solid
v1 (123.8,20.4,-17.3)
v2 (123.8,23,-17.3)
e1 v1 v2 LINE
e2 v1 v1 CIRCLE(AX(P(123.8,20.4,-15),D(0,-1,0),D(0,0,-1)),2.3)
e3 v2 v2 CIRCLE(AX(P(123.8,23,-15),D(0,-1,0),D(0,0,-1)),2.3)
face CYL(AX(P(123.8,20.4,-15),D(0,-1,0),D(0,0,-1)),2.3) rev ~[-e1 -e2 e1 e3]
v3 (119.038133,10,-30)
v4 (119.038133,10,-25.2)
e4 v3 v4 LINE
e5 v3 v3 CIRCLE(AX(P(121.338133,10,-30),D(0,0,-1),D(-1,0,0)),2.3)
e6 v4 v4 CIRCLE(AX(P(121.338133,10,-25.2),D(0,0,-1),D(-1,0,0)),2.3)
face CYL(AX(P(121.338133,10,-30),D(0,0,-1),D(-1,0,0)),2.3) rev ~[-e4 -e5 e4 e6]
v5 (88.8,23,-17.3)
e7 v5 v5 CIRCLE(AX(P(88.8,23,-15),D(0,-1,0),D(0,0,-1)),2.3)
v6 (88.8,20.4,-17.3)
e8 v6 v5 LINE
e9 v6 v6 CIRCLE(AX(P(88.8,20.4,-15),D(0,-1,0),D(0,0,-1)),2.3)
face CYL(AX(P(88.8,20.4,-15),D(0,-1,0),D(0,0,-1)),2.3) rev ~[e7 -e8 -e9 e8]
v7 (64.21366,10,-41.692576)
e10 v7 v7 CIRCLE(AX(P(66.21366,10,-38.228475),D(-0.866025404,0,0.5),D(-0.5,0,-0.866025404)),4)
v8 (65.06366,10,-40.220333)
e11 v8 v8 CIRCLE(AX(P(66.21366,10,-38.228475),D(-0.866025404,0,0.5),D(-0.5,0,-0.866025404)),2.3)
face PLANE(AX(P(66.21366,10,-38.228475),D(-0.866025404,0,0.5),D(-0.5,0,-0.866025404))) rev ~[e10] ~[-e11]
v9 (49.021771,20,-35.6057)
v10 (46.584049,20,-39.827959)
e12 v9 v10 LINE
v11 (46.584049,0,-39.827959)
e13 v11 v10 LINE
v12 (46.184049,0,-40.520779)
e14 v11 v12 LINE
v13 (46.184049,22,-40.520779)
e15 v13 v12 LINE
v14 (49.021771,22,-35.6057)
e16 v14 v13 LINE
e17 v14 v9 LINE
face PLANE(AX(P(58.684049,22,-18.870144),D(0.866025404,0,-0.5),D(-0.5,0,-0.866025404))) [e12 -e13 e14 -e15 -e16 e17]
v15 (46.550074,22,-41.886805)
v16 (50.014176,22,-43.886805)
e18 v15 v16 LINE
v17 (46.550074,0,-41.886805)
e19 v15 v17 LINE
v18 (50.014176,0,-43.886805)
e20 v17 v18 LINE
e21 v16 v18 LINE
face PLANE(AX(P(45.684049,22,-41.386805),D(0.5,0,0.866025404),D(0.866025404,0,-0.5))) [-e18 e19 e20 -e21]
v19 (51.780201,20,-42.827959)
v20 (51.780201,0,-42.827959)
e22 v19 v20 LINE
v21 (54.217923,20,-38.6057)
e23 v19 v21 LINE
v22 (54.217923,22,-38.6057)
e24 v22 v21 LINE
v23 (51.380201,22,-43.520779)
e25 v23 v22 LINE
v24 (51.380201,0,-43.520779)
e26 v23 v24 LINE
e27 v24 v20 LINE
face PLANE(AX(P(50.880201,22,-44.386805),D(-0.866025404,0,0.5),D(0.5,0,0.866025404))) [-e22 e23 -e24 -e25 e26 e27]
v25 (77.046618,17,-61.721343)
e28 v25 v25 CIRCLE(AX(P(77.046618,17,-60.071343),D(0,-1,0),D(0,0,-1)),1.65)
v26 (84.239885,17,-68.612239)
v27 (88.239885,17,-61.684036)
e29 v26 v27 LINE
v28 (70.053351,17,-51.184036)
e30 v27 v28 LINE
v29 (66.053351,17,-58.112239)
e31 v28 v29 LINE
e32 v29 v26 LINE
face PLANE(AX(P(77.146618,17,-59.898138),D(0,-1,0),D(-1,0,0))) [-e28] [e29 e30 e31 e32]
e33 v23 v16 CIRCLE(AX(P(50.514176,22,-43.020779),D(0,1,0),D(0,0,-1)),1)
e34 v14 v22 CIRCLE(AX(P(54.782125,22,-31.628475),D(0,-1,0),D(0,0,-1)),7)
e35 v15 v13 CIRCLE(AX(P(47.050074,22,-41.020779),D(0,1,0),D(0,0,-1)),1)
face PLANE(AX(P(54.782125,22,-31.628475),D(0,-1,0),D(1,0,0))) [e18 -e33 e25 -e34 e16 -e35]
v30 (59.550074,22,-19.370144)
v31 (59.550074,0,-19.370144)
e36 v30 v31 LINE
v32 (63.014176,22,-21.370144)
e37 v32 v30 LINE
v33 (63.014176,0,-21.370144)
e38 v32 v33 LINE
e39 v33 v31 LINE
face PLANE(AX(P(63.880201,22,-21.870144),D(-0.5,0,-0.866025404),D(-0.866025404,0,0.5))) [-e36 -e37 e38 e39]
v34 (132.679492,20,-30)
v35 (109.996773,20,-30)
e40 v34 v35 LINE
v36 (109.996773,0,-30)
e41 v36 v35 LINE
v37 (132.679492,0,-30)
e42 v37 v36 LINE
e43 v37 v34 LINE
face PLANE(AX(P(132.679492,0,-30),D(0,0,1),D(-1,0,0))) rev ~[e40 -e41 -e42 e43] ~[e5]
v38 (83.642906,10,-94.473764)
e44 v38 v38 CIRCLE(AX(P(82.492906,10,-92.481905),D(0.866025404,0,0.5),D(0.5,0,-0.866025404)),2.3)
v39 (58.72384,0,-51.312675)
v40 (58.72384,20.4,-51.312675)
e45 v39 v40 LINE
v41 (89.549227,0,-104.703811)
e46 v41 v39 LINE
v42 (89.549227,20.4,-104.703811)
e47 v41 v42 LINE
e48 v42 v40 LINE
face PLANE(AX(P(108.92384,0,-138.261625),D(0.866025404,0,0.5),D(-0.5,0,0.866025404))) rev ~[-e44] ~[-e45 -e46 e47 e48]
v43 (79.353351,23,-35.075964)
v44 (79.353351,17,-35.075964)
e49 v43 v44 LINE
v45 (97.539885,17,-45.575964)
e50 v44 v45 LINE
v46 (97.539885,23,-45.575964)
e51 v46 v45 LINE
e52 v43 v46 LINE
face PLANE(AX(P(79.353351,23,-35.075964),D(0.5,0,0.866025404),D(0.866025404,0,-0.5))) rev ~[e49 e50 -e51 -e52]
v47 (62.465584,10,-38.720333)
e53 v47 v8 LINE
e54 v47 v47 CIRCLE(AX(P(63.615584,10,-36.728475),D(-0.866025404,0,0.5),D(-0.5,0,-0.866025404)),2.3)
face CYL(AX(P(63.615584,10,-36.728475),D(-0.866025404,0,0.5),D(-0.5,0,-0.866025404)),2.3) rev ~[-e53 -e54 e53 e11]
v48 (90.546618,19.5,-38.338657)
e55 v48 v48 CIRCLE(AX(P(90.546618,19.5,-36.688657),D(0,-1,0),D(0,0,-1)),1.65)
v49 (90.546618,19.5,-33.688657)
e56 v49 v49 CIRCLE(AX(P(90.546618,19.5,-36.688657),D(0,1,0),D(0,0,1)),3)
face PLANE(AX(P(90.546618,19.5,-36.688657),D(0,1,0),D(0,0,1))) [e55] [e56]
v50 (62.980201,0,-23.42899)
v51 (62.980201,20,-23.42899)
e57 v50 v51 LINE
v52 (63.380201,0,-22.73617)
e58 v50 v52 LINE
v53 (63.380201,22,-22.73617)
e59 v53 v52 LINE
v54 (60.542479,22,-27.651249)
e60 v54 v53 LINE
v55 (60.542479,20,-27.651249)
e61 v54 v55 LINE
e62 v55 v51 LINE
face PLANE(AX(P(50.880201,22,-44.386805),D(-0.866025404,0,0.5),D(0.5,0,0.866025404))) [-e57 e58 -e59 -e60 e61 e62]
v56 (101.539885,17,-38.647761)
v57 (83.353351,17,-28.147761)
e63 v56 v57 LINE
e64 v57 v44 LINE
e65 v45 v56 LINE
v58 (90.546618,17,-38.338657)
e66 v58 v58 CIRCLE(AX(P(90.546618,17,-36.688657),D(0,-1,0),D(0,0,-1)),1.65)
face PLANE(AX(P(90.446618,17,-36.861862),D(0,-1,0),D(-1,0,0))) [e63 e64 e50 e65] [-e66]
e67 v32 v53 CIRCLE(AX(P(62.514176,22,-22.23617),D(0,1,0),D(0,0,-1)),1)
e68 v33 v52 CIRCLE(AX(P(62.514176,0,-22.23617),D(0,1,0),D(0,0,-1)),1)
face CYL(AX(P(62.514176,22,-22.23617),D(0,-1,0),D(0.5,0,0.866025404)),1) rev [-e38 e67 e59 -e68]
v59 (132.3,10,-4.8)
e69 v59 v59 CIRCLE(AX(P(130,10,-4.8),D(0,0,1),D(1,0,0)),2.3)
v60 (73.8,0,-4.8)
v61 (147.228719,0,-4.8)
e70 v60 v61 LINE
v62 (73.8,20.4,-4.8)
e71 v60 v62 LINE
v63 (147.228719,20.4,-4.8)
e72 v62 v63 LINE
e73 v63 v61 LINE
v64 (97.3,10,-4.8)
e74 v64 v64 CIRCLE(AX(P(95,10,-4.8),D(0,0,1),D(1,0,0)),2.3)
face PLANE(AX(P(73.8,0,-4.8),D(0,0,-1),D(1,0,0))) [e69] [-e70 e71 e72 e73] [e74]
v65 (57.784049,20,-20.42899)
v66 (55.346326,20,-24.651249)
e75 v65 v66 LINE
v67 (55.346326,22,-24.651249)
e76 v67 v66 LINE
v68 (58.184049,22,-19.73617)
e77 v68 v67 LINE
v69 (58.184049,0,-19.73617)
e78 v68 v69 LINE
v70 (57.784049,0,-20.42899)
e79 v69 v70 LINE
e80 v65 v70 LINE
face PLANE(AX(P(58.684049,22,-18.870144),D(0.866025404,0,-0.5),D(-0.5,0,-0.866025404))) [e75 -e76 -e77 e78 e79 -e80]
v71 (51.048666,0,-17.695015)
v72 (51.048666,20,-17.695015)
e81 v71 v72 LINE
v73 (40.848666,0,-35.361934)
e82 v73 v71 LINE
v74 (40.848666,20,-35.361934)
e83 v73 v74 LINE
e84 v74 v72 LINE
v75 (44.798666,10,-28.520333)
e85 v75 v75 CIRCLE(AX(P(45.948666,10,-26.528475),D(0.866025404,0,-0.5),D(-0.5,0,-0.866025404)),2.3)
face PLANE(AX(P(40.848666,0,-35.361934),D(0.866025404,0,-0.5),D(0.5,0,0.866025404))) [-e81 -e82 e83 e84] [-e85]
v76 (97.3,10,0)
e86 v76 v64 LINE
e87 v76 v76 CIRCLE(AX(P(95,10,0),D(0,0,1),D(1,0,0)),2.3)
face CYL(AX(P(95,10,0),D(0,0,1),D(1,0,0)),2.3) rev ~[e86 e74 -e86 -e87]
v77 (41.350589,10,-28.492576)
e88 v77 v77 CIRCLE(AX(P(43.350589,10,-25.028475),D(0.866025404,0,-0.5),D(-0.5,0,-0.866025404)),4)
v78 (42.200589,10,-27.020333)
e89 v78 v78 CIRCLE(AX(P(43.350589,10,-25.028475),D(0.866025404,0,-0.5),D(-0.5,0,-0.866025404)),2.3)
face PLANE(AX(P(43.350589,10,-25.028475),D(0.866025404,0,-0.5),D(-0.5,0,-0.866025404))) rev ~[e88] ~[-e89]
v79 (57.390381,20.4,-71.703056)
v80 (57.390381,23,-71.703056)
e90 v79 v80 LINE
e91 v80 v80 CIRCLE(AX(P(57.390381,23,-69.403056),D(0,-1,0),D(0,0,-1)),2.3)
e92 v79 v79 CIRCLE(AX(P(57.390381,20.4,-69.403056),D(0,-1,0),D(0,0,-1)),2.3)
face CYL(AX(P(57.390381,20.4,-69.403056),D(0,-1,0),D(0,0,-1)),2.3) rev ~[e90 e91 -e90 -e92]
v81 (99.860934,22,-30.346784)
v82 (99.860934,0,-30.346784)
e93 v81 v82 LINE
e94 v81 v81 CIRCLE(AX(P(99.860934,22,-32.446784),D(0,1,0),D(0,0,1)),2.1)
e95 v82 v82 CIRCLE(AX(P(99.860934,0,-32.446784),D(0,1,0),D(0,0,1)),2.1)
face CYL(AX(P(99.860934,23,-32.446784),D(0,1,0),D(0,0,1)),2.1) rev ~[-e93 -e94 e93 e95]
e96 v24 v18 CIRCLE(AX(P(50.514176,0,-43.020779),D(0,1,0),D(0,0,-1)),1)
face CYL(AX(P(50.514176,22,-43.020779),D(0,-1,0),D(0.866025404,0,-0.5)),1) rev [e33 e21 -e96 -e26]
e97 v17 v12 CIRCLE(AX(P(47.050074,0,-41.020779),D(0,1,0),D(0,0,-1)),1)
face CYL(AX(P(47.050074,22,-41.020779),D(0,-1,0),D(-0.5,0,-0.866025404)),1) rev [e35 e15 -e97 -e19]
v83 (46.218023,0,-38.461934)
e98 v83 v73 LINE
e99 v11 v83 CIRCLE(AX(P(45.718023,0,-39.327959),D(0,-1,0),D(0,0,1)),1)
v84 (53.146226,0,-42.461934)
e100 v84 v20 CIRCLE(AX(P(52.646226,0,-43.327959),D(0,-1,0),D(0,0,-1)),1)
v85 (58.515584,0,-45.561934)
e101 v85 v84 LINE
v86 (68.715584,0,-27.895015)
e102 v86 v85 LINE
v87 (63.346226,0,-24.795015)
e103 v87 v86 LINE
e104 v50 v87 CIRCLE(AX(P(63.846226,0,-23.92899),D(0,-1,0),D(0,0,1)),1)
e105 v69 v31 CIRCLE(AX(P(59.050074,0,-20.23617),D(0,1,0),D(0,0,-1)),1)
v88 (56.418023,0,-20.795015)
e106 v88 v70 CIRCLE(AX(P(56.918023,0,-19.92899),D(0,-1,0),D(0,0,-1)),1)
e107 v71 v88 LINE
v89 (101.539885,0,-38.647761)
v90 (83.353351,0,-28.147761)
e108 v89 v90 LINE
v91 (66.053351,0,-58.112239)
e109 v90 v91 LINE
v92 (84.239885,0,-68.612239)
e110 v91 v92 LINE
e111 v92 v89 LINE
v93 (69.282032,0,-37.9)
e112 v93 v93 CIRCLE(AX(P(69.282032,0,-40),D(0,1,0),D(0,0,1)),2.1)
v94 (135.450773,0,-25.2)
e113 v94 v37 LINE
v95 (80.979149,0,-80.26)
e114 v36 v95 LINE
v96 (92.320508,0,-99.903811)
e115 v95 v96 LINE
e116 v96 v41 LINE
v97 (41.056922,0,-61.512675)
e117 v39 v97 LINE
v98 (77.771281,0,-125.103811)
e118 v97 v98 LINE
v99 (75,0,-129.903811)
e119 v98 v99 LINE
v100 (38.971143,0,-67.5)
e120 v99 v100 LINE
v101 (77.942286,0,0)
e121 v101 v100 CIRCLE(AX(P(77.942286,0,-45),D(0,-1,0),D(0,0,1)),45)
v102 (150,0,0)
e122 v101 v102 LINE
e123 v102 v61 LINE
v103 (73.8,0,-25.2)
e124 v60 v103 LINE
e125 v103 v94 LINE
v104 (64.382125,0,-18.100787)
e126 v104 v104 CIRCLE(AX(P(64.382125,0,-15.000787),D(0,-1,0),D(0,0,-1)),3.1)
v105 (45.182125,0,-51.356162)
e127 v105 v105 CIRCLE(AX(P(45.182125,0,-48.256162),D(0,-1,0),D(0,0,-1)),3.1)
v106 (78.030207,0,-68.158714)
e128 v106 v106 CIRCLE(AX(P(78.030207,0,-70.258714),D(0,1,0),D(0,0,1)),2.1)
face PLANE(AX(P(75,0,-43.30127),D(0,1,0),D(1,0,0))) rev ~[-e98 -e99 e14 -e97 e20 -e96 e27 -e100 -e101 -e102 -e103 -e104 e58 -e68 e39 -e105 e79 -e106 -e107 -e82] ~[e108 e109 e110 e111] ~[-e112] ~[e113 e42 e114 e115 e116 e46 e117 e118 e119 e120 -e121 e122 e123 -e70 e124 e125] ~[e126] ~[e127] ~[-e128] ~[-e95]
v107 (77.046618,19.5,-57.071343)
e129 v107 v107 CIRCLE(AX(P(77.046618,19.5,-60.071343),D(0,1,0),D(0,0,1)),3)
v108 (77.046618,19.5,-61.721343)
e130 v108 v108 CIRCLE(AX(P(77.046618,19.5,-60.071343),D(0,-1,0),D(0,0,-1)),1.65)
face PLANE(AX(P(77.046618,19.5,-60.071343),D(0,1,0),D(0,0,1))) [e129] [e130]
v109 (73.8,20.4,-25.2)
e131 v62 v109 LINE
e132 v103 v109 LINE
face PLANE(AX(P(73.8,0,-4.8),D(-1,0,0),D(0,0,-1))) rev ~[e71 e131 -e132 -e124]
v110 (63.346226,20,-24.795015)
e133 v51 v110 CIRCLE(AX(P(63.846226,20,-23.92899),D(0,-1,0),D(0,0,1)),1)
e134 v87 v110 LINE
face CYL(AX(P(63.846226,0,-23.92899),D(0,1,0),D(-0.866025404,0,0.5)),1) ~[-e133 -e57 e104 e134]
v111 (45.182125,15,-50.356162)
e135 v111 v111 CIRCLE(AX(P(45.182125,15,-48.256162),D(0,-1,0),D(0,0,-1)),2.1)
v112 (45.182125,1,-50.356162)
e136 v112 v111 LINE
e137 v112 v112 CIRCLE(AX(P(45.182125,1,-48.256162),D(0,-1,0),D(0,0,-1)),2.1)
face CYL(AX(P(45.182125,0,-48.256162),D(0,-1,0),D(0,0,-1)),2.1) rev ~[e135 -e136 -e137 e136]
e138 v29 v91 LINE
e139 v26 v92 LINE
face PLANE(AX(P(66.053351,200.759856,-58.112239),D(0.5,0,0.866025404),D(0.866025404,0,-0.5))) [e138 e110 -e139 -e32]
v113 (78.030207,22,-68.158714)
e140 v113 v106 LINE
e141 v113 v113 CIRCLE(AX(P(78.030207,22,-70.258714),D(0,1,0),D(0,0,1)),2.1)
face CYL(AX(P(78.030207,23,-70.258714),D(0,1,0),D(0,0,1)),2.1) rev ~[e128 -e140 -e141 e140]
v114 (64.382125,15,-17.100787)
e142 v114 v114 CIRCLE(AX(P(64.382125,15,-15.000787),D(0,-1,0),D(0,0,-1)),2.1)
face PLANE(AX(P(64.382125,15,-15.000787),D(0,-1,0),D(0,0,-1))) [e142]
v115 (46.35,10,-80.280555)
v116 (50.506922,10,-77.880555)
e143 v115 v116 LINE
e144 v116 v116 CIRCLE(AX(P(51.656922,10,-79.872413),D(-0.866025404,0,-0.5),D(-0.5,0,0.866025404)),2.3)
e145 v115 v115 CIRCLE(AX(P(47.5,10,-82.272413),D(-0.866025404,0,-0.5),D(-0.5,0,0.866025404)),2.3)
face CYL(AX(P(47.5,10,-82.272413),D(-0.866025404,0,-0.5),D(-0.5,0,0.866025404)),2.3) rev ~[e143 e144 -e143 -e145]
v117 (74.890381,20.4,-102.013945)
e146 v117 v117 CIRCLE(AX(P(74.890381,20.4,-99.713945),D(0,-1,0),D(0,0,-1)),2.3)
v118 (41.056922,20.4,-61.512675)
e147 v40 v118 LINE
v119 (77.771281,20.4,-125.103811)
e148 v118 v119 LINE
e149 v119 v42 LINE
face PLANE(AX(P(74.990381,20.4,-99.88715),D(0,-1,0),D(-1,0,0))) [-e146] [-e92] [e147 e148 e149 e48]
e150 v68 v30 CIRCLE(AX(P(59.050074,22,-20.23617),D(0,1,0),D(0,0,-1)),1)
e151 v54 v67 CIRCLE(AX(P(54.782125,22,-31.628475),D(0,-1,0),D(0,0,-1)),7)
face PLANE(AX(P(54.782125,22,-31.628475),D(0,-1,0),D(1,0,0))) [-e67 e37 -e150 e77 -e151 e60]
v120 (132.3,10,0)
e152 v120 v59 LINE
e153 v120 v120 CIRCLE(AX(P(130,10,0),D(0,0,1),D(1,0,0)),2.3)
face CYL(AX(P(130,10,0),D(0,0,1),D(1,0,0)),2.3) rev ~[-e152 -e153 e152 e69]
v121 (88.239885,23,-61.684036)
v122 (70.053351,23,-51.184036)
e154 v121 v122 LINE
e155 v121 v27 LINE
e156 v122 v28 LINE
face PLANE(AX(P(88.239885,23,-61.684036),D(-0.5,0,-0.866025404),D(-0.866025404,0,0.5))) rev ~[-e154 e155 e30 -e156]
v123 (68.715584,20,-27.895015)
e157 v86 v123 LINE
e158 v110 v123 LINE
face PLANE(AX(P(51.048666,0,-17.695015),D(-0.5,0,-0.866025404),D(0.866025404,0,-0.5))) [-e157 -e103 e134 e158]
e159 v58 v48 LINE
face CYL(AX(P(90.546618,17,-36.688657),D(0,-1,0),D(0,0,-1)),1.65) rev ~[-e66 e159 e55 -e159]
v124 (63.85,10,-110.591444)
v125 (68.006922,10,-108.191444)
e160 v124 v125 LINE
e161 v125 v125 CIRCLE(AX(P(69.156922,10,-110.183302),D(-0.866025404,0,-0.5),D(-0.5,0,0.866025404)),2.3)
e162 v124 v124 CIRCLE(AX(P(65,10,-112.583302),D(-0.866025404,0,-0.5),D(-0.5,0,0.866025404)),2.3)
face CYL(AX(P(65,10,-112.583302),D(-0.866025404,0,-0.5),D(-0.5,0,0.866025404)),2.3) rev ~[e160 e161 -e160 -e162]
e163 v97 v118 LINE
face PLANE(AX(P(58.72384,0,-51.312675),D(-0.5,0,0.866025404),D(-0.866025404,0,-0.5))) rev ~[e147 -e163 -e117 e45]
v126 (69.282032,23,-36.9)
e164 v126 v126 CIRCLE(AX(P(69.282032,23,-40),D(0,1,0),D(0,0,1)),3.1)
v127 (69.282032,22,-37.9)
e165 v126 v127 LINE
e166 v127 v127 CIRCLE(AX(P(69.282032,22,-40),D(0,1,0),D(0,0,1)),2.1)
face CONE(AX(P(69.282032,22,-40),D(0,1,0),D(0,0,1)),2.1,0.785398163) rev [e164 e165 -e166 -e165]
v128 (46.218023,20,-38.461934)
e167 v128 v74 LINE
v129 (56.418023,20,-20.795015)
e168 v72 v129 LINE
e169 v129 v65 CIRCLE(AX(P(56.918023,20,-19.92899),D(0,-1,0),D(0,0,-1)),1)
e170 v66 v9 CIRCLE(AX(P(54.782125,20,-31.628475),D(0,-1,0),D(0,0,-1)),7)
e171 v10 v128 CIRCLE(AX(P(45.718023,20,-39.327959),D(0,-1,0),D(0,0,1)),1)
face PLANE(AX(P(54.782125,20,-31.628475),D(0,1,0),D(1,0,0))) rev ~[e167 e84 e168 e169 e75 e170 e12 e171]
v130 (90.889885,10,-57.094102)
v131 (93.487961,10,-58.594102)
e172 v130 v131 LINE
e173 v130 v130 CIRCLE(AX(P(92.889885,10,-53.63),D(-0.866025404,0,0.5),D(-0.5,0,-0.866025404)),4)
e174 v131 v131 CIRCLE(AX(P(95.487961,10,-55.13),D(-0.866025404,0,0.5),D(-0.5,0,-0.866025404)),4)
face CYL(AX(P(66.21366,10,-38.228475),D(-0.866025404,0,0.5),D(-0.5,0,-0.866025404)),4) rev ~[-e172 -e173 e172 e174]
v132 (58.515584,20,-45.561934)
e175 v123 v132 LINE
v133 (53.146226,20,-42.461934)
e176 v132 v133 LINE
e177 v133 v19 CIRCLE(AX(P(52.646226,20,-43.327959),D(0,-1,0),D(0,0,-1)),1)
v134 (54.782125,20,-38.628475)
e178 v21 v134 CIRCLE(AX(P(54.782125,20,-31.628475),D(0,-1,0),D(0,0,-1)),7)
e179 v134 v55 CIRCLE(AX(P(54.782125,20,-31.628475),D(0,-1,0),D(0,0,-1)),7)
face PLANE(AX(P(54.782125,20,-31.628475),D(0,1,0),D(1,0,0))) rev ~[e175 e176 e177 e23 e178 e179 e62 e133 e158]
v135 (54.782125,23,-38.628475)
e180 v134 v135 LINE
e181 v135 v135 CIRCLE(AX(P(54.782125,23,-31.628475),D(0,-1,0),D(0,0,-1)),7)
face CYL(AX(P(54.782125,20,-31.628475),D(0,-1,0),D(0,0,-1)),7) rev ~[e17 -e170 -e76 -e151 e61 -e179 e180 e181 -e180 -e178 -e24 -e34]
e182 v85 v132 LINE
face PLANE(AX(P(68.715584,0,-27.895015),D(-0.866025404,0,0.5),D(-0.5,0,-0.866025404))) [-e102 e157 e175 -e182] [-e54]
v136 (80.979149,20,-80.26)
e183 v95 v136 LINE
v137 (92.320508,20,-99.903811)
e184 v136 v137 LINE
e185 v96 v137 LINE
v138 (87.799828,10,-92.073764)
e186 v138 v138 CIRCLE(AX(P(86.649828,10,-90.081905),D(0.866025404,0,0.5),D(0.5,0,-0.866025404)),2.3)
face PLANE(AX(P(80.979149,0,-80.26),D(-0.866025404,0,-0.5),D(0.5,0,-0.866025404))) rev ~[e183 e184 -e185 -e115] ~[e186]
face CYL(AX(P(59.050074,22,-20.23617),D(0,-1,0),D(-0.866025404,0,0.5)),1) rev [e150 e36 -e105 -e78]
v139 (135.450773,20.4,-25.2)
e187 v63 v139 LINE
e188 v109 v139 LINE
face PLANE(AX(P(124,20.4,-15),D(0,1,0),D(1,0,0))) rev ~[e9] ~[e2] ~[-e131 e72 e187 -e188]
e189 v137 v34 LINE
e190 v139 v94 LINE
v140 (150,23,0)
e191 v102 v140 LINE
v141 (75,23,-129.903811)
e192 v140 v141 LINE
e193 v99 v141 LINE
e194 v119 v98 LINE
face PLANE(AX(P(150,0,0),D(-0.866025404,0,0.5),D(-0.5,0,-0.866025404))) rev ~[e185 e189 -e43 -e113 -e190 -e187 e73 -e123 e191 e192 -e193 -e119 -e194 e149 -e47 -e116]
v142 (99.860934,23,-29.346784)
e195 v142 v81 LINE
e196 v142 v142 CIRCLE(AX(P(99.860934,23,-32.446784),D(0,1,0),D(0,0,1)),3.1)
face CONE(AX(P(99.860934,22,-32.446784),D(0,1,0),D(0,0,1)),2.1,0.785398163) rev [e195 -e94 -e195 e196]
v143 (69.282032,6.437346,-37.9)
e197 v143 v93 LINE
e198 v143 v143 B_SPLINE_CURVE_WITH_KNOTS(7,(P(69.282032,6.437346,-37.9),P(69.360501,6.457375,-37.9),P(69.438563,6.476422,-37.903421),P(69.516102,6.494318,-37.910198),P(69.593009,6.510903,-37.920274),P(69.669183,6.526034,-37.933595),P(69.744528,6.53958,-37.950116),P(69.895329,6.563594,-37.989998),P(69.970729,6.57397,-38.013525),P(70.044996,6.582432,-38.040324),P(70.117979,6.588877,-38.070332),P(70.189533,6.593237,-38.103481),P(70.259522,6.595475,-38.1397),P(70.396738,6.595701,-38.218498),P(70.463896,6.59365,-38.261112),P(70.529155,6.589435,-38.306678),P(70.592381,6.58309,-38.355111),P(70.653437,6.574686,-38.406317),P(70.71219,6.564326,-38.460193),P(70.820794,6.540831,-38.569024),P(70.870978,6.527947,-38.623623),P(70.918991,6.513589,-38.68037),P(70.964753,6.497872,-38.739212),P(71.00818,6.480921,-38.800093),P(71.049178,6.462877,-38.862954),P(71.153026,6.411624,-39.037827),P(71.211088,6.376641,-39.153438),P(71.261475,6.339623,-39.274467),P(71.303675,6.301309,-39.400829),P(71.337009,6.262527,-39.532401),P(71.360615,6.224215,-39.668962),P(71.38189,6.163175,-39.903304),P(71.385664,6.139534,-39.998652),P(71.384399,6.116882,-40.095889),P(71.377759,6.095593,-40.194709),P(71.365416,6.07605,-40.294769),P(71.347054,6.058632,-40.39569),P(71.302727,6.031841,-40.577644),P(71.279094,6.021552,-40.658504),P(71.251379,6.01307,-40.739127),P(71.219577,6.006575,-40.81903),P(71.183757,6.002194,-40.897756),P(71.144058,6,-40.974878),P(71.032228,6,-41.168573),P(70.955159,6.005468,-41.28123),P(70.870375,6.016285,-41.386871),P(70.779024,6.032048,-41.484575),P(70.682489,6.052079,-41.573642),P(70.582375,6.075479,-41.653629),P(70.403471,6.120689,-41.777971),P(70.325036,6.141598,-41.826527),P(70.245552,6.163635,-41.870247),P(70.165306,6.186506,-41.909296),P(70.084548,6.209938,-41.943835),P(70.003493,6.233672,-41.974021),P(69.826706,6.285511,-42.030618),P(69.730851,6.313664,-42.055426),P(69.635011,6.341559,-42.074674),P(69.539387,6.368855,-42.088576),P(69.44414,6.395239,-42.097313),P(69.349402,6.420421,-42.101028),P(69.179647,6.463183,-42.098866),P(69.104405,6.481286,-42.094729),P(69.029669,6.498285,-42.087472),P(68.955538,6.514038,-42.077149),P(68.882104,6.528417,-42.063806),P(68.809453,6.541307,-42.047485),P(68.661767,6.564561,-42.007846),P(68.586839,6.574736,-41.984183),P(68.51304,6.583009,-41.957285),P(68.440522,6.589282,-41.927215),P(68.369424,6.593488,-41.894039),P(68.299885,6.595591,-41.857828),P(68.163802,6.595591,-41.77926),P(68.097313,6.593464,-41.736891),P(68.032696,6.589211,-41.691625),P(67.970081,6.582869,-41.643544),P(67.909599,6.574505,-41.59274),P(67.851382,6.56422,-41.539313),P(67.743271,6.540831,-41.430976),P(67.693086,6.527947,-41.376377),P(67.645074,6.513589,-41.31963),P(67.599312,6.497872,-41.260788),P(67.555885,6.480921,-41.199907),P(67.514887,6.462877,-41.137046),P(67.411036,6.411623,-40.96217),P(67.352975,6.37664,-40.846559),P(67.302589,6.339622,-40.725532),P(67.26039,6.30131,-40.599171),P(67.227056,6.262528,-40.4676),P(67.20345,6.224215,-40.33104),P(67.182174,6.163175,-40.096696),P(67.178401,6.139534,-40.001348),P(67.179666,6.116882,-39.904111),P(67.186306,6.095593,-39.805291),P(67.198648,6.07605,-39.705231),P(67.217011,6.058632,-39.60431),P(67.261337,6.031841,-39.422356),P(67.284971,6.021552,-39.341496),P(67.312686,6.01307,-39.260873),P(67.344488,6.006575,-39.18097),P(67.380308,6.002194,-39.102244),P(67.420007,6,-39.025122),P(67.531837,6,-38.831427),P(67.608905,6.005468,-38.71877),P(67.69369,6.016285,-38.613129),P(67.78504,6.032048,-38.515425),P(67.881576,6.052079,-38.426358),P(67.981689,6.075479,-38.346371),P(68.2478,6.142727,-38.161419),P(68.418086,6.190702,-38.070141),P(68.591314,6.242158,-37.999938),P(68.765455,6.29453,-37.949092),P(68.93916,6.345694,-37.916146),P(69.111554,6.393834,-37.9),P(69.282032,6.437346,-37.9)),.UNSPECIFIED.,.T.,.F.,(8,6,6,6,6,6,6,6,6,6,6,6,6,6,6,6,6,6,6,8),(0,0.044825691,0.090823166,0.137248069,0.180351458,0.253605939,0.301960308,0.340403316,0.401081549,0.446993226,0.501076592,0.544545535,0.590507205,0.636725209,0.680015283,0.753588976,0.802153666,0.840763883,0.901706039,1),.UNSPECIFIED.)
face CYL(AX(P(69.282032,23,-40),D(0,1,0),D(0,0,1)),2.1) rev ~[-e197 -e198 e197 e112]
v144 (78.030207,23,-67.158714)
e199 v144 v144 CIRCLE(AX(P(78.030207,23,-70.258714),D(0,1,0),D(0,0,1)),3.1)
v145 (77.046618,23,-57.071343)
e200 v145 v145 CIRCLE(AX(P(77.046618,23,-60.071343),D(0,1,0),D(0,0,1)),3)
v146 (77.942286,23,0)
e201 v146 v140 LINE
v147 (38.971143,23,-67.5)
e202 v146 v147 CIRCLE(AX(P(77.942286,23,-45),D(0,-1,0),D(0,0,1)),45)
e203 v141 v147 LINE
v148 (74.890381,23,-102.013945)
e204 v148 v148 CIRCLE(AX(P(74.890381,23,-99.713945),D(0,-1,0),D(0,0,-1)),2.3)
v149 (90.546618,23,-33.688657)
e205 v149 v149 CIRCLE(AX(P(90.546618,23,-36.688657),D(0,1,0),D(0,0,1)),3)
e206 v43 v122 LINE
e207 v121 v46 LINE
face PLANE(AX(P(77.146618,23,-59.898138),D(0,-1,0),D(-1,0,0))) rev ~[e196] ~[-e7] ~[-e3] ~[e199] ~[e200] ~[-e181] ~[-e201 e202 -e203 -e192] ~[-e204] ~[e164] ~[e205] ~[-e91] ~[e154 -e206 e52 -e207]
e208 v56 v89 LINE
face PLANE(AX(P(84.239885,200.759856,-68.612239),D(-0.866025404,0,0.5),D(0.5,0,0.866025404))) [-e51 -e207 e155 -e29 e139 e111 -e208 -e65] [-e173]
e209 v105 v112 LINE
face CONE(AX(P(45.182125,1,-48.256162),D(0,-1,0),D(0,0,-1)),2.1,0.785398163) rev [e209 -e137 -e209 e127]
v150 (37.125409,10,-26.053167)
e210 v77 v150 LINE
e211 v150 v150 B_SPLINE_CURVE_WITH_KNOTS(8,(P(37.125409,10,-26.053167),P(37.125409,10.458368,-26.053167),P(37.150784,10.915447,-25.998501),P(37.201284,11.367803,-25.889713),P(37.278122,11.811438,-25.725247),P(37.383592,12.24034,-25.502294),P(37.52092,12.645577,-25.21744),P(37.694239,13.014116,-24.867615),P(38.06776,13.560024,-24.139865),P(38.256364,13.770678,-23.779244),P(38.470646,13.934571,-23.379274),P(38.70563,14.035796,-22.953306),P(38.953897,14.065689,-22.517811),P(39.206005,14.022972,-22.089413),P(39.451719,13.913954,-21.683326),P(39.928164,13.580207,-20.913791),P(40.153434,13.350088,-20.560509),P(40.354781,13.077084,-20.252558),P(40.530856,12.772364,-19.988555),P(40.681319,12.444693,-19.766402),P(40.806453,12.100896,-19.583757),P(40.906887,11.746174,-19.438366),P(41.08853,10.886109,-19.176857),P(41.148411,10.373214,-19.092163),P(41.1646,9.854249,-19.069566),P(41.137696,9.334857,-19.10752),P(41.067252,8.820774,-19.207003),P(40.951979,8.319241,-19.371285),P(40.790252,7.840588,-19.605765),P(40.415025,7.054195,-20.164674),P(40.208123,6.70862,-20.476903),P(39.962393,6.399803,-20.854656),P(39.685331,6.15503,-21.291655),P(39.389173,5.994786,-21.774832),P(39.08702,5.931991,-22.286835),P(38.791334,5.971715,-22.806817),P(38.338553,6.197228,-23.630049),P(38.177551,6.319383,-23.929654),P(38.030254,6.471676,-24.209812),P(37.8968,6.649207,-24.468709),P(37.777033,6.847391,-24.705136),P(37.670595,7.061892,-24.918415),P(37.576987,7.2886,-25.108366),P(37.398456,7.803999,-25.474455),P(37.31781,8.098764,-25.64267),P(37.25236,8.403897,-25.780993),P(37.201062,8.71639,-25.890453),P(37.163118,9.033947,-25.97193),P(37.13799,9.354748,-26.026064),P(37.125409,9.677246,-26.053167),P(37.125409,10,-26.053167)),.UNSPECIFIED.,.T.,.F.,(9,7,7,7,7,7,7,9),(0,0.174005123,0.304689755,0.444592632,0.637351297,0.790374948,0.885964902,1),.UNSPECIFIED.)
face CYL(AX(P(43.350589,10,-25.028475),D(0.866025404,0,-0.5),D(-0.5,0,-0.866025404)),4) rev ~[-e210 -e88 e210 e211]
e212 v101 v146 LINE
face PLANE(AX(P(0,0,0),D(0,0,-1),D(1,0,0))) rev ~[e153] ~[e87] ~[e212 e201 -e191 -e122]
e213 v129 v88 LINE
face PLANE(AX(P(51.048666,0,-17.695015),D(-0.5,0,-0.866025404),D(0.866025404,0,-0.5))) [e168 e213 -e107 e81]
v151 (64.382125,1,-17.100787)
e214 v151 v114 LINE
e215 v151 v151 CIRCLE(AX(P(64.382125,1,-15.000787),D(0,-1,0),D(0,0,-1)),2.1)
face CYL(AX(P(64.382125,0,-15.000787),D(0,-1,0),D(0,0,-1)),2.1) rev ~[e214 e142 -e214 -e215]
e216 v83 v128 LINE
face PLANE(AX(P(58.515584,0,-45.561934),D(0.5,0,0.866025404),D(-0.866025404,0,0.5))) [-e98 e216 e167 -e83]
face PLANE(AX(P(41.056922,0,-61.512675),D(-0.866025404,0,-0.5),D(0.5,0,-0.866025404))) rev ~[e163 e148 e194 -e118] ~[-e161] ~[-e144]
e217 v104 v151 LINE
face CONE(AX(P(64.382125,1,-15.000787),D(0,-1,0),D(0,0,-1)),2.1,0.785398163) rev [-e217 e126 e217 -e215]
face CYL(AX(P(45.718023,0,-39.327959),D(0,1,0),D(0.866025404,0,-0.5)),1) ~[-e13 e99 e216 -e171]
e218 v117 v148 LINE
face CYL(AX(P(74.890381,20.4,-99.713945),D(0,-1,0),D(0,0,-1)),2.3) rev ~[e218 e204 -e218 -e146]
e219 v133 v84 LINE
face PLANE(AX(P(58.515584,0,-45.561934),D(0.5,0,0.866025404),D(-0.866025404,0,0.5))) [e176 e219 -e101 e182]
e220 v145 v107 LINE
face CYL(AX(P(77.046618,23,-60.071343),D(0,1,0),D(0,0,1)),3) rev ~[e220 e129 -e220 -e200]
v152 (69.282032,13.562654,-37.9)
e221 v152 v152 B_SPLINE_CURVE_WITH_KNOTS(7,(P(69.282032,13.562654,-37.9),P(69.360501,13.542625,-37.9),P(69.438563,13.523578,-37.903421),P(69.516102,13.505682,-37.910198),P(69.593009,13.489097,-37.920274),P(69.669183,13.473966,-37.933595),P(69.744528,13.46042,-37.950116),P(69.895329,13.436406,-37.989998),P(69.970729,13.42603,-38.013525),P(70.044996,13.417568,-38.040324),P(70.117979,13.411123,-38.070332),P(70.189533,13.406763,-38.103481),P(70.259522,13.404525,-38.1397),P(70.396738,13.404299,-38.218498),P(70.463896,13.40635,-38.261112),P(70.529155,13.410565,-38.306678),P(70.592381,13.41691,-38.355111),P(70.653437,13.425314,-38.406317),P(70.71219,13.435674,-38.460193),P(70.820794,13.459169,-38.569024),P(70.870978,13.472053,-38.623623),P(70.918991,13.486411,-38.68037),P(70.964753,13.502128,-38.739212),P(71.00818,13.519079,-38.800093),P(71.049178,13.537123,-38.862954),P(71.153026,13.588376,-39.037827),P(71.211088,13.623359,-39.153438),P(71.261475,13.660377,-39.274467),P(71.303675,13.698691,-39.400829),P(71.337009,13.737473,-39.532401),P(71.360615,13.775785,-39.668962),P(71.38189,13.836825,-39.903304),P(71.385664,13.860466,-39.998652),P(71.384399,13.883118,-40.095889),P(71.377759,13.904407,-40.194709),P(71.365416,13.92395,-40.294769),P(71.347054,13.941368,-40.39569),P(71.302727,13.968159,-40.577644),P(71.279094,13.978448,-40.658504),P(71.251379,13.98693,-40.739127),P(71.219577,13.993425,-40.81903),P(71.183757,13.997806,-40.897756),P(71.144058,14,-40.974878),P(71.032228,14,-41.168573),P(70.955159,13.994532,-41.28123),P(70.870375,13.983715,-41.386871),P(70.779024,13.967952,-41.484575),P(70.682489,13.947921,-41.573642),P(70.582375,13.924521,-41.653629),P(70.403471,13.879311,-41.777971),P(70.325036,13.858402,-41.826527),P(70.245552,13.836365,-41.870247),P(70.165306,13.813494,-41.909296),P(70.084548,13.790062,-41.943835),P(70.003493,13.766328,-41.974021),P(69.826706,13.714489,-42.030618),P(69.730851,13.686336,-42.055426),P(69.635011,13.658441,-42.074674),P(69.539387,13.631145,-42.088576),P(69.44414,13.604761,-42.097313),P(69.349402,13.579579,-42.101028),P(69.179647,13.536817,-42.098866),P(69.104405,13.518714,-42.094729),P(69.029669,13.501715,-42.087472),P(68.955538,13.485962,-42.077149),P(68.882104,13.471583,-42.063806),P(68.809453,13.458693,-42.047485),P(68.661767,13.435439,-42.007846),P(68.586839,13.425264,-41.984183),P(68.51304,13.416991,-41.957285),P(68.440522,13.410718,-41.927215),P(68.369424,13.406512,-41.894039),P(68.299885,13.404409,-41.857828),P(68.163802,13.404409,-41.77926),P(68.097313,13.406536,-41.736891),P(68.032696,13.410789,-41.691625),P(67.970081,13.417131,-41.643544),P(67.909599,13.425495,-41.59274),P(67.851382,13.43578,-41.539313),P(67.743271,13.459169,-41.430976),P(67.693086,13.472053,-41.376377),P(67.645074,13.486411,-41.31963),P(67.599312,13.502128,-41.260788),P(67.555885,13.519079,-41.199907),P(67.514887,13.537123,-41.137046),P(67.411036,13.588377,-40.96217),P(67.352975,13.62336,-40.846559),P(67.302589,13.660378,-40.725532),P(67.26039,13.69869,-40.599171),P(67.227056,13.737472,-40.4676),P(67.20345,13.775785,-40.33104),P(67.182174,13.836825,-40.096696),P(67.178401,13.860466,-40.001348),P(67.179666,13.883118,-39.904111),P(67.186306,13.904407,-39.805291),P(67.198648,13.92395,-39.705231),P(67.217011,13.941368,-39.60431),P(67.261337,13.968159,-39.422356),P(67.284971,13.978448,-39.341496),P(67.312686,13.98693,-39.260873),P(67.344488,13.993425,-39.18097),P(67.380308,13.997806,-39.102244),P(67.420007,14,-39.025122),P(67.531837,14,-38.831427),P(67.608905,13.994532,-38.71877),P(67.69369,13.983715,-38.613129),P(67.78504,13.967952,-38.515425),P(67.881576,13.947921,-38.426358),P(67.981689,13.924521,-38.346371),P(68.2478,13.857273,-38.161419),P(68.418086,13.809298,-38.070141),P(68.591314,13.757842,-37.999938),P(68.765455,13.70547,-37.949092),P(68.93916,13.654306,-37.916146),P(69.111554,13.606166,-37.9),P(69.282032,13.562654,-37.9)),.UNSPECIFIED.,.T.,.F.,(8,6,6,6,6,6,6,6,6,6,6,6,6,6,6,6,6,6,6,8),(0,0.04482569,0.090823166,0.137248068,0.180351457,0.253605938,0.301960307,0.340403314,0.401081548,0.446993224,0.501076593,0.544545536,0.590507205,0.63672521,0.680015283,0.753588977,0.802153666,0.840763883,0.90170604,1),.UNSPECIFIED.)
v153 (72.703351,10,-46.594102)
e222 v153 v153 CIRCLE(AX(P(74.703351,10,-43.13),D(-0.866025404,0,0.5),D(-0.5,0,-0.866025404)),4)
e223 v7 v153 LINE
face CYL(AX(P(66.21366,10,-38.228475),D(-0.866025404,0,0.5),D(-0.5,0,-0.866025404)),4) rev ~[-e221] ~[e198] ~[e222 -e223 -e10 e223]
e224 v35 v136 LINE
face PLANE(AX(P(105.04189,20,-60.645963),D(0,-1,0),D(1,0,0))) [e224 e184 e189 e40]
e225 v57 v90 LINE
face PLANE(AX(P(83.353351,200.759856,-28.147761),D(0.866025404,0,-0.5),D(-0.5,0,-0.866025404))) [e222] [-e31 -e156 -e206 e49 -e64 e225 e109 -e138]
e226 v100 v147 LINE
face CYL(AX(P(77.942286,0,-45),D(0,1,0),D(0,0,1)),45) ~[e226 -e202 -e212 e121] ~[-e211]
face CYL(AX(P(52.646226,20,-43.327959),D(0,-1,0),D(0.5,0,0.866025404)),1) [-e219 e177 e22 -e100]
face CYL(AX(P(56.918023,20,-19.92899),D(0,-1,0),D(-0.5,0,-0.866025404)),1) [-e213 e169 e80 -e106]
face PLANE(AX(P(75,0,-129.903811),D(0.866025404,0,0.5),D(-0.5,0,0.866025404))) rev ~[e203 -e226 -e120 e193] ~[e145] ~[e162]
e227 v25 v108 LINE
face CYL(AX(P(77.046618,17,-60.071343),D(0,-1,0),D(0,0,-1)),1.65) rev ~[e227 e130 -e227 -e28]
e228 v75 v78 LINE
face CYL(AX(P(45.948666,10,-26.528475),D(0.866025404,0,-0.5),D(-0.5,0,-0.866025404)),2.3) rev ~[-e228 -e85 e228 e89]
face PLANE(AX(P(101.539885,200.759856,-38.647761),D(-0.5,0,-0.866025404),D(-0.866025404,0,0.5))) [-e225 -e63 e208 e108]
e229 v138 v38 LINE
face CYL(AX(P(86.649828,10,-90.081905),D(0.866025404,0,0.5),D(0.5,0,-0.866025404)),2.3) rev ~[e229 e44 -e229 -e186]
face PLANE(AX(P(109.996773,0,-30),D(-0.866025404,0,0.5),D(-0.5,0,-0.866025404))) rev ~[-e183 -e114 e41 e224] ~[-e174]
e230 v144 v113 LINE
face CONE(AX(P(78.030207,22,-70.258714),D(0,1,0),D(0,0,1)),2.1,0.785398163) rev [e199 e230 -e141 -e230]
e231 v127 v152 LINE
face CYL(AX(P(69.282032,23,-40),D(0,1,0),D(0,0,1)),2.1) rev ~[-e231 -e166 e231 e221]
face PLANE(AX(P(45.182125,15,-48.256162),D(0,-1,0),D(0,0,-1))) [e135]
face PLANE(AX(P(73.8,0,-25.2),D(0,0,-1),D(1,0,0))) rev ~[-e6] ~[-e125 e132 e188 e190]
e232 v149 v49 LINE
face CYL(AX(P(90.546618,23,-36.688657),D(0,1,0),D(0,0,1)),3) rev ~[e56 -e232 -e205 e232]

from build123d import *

# Parameters (mm, degrees)
BOSS_EXTRUDE1_DEPTH      = 23
SKETCH2_W                = 100.4
SKETCH2_H                = 20.4
CUT_EXTRUDE2_DEPTH       = 20.4
CUT_EXTRUDE3_DEPTH       = 20
SKETCH7_R                = 2.3
CUT_EXTRUDE6_DEPTH       = 10
SKETCH8_R                = 2.3
CUT_EXTRUDE7_DEPTH       = 10
FILLET3_R                = 45
CUT_EXTRUDE11_DEPTH      = 200.759855827
CUT_EXTRUDE11_DEPTH_BACK = 200.759855827
CUT_EXTRUDE10_DEPTH      = 20
SKETCH32_R               = 2.3
CUT_EXTRUDE18_DEPTH      = 10
SKETCH33_R               = 2.3
CUT_EXTRUDE19_DEPTH      = 10
SKETCH34_R               = 2.3
CUT_EXTRUDE20_DEPTH      = 149.465956609
SKETCH35_R               = 4
CUT_EXTRUDE21_DEPTH      = 152.333845776
SKETCH36_R               = 2.1
CUT_EXTRUDE22_DEPTH      = 200.759855838
SKETCH38_R               = 2.3
CUT_EXTRUDE24_DEPTH      = 10
BOSS_EXTRUDE2_DEPTH      = 6
SKETCH40_R               = 1.65
CUT_EXTRUDE25_DEPTH      = 200.158228561
SKETCH41_R               = 3
CUT_EXTRUDE26_DEPTH      = 3.5
SKETCH42_R               = 2.1
CUT_EXTRUDE27_DEPTH      = 200.759855838
CHAMFER2_SIZE            = 1
SKETCH43_R               = 2.1
CUT_EXTRUDE28_DEPTH      = 15
CHAMFER3_SIZE            = 1
SKETCH45_R               = 2.3
CUT_EXTRUDE29_DEPTH      = 130.123625221
SKETCH46_R               = 4
CUT_EXTRUDE30_DEPTH      = 127.307236488
SKETCH47_R               = 7
CUT_EXTRUDE31_DEPTH      = 10
CUT_EXTRUDE32_DEPTH      = 20
CUT_EXTRUDE32_DEPTH_BACK = 2
FILLET4_R                = 1


with BuildPart() as part:
    # Sketch1 → Boss-Extrude1 (new body)
    with BuildSketch(Plane(origin=(0, 0, 0), x_dir=(1, 0, 0), z_dir=(0, 1, 0))):
        Polygon((0, 0), (150, 0), (75, 129.903810568), align=None)
    extrude(amount=BOSS_EXTRUDE1_DEPTH)

    # Sketch2 → Cut-Extrude2 (cut)
    with BuildSketch(Plane(origin=(0, 0, 0), x_dir=(1, 0, 0), z_dir=(0, 1, 0))):
        Polygon((108.923840175, 138.261625339), (58.723840175, 51.312674799), (41.056921938, 61.512674799), (91.256921938, 148.461625339), align=None)
        with Locations((124, 15)):
            Rectangle(SKETCH2_W, SKETCH2_H)
    extrude(amount=CUT_EXTRUDE2_DEPTH, mode=Mode.SUBTRACT)

    # Sketch4 → Cut-Extrude3 (cut)
    with BuildSketch(Plane(origin=(0, 0, 0), x_dir=(1, 0, 0), z_dir=(0, 1, 0))):
        Polygon((58.515583945, 45.561933634), (40.848665708, 35.361933634), (51.048665708, 17.695015397), (68.715583945, 27.895015397), align=None)
    extrude(amount=CUT_EXTRUDE3_DEPTH, mode=Mode.SUBTRACT)

    # Sketch7 → Cut-Extrude6 (cut)
    with BuildSketch(Plane(origin=(0, 0, 0), x_dir=(-0.4999999999999978, 0, 0.86602540378444), z_dir=(-0.86602540378444, 0, -0.4999999999999978))):
        with Locations((-130, 10)):
            Circle(SKETCH7_R)
        with Locations((-95, 10)):
            Circle(SKETCH7_R)
    extrude(amount=-CUT_EXTRUDE6_DEPTH, mode=Mode.SUBTRACT)

    # Sketch8 → Cut-Extrude7 (cut)
    with BuildSketch(Plane.XY):
        with Locations((130, 10)):
            Circle(SKETCH8_R)
        with Locations((95, 10)):
            Circle(SKETCH8_R)
    extrude(amount=-CUT_EXTRUDE7_DEPTH, mode=Mode.SUBTRACT)

    # Fillet3
    fillet3_edges = [part.edges().sort_by_distance(p)[0] for p in [
        (0, 11.5, 0),
    ]]
    fillet(fillet3_edges, radius=FILLET3_R)

    # Sketch22 → Cut-Extrude11 (cut, two sides: drawn at the far end of the back side and taken through both)
    with BuildSketch(Plane.XZ.offset(-CUT_EXTRUDE11_DEPTH_BACK)):
        Polygon((83.35335133, -28.147760515), (66.05335133, -58.112239485), (84.23988481, -68.612239485), (101.53988481, -38.647760515), align=None)
    extrude(amount=CUT_EXTRUDE11_DEPTH + CUT_EXTRUDE11_DEPTH_BACK, mode=Mode.SUBTRACT)

    # Sketch21 → Cut-Extrude10 (cut)
    with BuildSketch(Plane.XZ):
        Polygon((132.679491924, -30), (109.996773286, -30), (80.979148757, -80.26), (92.320508076, -99.903810568), align=None)
    extrude(amount=-CUT_EXTRUDE10_DEPTH, mode=Mode.SUBTRACT)

    # Sketch32 → Cut-Extrude18 (cut)
    with BuildSketch(Plane(origin=(0, 0, -30), x_dir=(-1, 0, 0), z_dir=(0, 0, -1))):
        with Locations((-121.338132605, 10)):
            Circle(SKETCH32_R)
    extrude(amount=-CUT_EXTRUDE18_DEPTH, mode=Mode.SUBTRACT)

    # Sketch33 → Cut-Extrude19 (cut)
    with BuildSketch(Plane(origin=(25.980762114, 0, 15), x_dir=(0.4999999999999997, 0, -0.8660254037844388), z_dir=(0.8660254037844389, 0, 0.49999999999999983))):
        with Locations((121.338132605, 10)):
            Circle(SKETCH33_R)
    extrude(amount=-CUT_EXTRUDE19_DEPTH, mode=Mode.SUBTRACT)

    # Sketch34 → Cut-Extrude20 (cut, through all)
    with BuildSketch(Plane(origin=(45.948665708, 0, -26.528474516), x_dir=(-0.5000000000000001, 0, -0.8660254037844386), z_dir=(0.8660254037844386, 0, -0.5000000000000001))):
        with Locations((0, 10)):
            Circle(SKETCH34_R)
    extrude(amount=-CUT_EXTRUDE20_DEPTH, mode=Mode.SUBTRACT)

    # Sketch35 → Cut-Extrude21 (cut, through all)
    with BuildSketch(Plane(origin=(43.350589497, 0, -25.028474516), x_dir=(-0.5000000000000001, 0, -0.8660254037844386), z_dir=(0.8660254037844386, 0, -0.5000000000000001))):
        with Locations((0, 10)):
            Circle(SKETCH35_R)
    extrude(amount=-CUT_EXTRUDE21_DEPTH, mode=Mode.SUBTRACT)

    # Sketch36 → Cut-Extrude22 (cut, through all)
    with BuildSketch(Plane(origin=(0, 23, 0), x_dir=(1, 0, 0), z_dir=(0, 1, 0))):
        with Locations(Location((69.282032303, 40, 0), (0, 0, 270))):
            Circle(SKETCH36_R)
    extrude(amount=-CUT_EXTRUDE22_DEPTH, mode=Mode.SUBTRACT)

    # Sketch38 → Cut-Extrude24 (cut)
    with BuildSketch(Plane.XZ.offset(-20.4)):
        with Locations(Location((88.8, -15, 0), (0, 0, 270))):
            Circle(SKETCH38_R)
        with Locations(Location((123.8, -15, 0), (0, 0, 270))):
            Circle(SKETCH38_R)
        with Locations(Location((57.390381057, -69.403055856, 0), (0, 0, 270))):
            Circle(SKETCH38_R)
        with Locations(Location((74.890381057, -99.713944989, 0), (0, 0, 270))):
            Circle(SKETCH38_R)
    extrude(amount=-CUT_EXTRUDE24_DEPTH, mode=Mode.SUBTRACT)

    # Sketch39 → Boss-Extrude2 (add)
    with BuildSketch(Plane(origin=(0, 23, 0), x_dir=(1, 0, 0), z_dir=(0, 1, 0))):
        Polygon((66.05335133, 58.112239485), (84.23988481, 68.612239485), (88.23988481, 61.684036255), (70.05335133, 51.184036255), align=None)
        Polygon((101.53988481, 38.647760515), (83.35335133, 28.147760515), (79.35335133, 35.075963745), (97.53988481, 45.575963745), align=None)
    extrude(amount=-BOSS_EXTRUDE2_DEPTH)

    # Sketch40 → Cut-Extrude25 (cut, through all)
    with BuildSketch(Plane.XZ.offset(-17)):
        with Locations(Location((90.54661807, -36.688657049, 0), (0, 0, 270))):
            Circle(SKETCH40_R)
        with Locations(Location((77.04661807, -60.071342951, 0), (0, 0, 270))):
            Circle(SKETCH40_R)
    extrude(amount=-CUT_EXTRUDE25_DEPTH, mode=Mode.SUBTRACT)

    # Sketch41 → Cut-Extrude26 (cut)
    with BuildSketch(Plane(origin=(0, 23, 0), x_dir=(1, 0, 0), z_dir=(0, 1, 0))):
        with Locations(Location((77.04661807, 60.071342951, 0), (0, 0, 270))):
            Circle(SKETCH41_R)
        with Locations(Location((90.54661807, 36.688657049, 0), (0, 0, 270))):
            Circle(SKETCH41_R)
    extrude(amount=-CUT_EXTRUDE26_DEPTH, mode=Mode.SUBTRACT)

    # Sketch42 → Cut-Extrude27 (cut, through all)
    with BuildSketch(Plane(origin=(0, 23, 0), x_dir=(1, 0, 0), z_dir=(0, 1, 0))):
        with Locations(Location((99.860934211, 32.446784409, 0), (0, 0, 270))):
            Circle(SKETCH42_R)
        with Locations(Location((78.030206675, 70.258713668, 0), (0, 0, 270))):
            Circle(SKETCH42_R)
    extrude(amount=-CUT_EXTRUDE27_DEPTH, mode=Mode.SUBTRACT)

    # Chamfer2
    chamfer2_edges = [part.edges().sort_by_distance(p)[0] for p in [
        (69.282032303, 23, -42.1),
        (99.860934211, 23, -34.546784409),
        (78.030206675, 23, -72.358713668),
    ]]
    chamfer(chamfer2_edges, length=CHAMFER2_SIZE)

    # Sketch43 → Cut-Extrude28 (cut)
    with BuildSketch(Plane.XZ):
        with Locations(Location((64.382124827, -15.000786763, 0), (0, 0, 270))):
            Circle(SKETCH43_R)
        with Locations(Location((45.182124827, -48.256162268, 0), (0, 0, 270))):
            Circle(SKETCH43_R)
    extrude(amount=-CUT_EXTRUDE28_DEPTH, mode=Mode.SUBTRACT)

    # Chamfer3
    chamfer3_edges = [part.edges().sort_by_distance(p)[0] for p in [
        (64.382124827, 0, -12.900786763),
        (45.182124827, 0, -46.156162268),
    ]]
    chamfer(chamfer3_edges, length=CHAMFER3_SIZE)

    # Sketch45 → Cut-Extrude29 (cut, through all)
    with BuildSketch(Plane(origin=(63.615583945, 0, -36.728474516), x_dir=(0.5, 0, 0.8660254037844386), z_dir=(-0.8660254037844387, 0, 0.5000000000000001))):
        with Locations(Location((0, 10, 0), (0, 0, 180))):
            Circle(SKETCH45_R)
    extrude(amount=-CUT_EXTRUDE29_DEPTH, mode=Mode.SUBTRACT)

    # Sketch46 → Cut-Extrude30 (cut, through all)
    with BuildSketch(Plane(origin=(66.213660157, 0, -38.228474516), x_dir=(0.5, 0, 0.8660254037844386), z_dir=(-0.8660254037844387, 0, 0.5000000000000001))):
        with Locations(Location((0, 10, 0), (0, 0, 180))):
            Circle(SKETCH46_R)
    extrude(amount=-CUT_EXTRUDE30_DEPTH, mode=Mode.SUBTRACT)

    # Sketch47 → Cut-Extrude31 (cut)
    with BuildSketch(Plane.XZ.offset(-20)):
        with Locations(Location((54.782124827, -31.628474516, 0), (0, 0, 270))):
            Circle(SKETCH47_R)
    extrude(amount=-CUT_EXTRUDE31_DEPTH, mode=Mode.SUBTRACT)

    # Sketch48 → Cut-Extrude32 (cut, two sides: drawn at the far end of the back side and taken through both)
    with BuildSketch(Plane.XZ.offset(-20).offset(-CUT_EXTRUDE32_DEPTH_BACK)):
        Polygon((58.684048615, -18.870144266), (45.684048615, -41.386804765), (50.880201038, -44.386804765), (63.880201038, -21.870144266), align=None)
    extrude(amount=CUT_EXTRUDE32_DEPTH + CUT_EXTRUDE32_DEPTH_BACK, mode=Mode.SUBTRACT)

    # Fillet4
    fillet4_edges = [part.edges().sort_by_distance(p)[0] for p in [
        (62.480201038, 10, -24.295015397),
        (52.280201038, 10, -41.961933634),
        (63.880201038, 11, -21.870144266),
        (47.084048615, 10, -38.961933634),
        (57.284048615, 10, -21.295015397),
        (45.684048615, 11, -41.386804765),
        (58.684048615, 11, -18.870144266),
        (50.880201038, 11, -44.386804765),
    ]]
    fillet(fillet4_edges, radius=FILLET4_R)


solid = part.part
